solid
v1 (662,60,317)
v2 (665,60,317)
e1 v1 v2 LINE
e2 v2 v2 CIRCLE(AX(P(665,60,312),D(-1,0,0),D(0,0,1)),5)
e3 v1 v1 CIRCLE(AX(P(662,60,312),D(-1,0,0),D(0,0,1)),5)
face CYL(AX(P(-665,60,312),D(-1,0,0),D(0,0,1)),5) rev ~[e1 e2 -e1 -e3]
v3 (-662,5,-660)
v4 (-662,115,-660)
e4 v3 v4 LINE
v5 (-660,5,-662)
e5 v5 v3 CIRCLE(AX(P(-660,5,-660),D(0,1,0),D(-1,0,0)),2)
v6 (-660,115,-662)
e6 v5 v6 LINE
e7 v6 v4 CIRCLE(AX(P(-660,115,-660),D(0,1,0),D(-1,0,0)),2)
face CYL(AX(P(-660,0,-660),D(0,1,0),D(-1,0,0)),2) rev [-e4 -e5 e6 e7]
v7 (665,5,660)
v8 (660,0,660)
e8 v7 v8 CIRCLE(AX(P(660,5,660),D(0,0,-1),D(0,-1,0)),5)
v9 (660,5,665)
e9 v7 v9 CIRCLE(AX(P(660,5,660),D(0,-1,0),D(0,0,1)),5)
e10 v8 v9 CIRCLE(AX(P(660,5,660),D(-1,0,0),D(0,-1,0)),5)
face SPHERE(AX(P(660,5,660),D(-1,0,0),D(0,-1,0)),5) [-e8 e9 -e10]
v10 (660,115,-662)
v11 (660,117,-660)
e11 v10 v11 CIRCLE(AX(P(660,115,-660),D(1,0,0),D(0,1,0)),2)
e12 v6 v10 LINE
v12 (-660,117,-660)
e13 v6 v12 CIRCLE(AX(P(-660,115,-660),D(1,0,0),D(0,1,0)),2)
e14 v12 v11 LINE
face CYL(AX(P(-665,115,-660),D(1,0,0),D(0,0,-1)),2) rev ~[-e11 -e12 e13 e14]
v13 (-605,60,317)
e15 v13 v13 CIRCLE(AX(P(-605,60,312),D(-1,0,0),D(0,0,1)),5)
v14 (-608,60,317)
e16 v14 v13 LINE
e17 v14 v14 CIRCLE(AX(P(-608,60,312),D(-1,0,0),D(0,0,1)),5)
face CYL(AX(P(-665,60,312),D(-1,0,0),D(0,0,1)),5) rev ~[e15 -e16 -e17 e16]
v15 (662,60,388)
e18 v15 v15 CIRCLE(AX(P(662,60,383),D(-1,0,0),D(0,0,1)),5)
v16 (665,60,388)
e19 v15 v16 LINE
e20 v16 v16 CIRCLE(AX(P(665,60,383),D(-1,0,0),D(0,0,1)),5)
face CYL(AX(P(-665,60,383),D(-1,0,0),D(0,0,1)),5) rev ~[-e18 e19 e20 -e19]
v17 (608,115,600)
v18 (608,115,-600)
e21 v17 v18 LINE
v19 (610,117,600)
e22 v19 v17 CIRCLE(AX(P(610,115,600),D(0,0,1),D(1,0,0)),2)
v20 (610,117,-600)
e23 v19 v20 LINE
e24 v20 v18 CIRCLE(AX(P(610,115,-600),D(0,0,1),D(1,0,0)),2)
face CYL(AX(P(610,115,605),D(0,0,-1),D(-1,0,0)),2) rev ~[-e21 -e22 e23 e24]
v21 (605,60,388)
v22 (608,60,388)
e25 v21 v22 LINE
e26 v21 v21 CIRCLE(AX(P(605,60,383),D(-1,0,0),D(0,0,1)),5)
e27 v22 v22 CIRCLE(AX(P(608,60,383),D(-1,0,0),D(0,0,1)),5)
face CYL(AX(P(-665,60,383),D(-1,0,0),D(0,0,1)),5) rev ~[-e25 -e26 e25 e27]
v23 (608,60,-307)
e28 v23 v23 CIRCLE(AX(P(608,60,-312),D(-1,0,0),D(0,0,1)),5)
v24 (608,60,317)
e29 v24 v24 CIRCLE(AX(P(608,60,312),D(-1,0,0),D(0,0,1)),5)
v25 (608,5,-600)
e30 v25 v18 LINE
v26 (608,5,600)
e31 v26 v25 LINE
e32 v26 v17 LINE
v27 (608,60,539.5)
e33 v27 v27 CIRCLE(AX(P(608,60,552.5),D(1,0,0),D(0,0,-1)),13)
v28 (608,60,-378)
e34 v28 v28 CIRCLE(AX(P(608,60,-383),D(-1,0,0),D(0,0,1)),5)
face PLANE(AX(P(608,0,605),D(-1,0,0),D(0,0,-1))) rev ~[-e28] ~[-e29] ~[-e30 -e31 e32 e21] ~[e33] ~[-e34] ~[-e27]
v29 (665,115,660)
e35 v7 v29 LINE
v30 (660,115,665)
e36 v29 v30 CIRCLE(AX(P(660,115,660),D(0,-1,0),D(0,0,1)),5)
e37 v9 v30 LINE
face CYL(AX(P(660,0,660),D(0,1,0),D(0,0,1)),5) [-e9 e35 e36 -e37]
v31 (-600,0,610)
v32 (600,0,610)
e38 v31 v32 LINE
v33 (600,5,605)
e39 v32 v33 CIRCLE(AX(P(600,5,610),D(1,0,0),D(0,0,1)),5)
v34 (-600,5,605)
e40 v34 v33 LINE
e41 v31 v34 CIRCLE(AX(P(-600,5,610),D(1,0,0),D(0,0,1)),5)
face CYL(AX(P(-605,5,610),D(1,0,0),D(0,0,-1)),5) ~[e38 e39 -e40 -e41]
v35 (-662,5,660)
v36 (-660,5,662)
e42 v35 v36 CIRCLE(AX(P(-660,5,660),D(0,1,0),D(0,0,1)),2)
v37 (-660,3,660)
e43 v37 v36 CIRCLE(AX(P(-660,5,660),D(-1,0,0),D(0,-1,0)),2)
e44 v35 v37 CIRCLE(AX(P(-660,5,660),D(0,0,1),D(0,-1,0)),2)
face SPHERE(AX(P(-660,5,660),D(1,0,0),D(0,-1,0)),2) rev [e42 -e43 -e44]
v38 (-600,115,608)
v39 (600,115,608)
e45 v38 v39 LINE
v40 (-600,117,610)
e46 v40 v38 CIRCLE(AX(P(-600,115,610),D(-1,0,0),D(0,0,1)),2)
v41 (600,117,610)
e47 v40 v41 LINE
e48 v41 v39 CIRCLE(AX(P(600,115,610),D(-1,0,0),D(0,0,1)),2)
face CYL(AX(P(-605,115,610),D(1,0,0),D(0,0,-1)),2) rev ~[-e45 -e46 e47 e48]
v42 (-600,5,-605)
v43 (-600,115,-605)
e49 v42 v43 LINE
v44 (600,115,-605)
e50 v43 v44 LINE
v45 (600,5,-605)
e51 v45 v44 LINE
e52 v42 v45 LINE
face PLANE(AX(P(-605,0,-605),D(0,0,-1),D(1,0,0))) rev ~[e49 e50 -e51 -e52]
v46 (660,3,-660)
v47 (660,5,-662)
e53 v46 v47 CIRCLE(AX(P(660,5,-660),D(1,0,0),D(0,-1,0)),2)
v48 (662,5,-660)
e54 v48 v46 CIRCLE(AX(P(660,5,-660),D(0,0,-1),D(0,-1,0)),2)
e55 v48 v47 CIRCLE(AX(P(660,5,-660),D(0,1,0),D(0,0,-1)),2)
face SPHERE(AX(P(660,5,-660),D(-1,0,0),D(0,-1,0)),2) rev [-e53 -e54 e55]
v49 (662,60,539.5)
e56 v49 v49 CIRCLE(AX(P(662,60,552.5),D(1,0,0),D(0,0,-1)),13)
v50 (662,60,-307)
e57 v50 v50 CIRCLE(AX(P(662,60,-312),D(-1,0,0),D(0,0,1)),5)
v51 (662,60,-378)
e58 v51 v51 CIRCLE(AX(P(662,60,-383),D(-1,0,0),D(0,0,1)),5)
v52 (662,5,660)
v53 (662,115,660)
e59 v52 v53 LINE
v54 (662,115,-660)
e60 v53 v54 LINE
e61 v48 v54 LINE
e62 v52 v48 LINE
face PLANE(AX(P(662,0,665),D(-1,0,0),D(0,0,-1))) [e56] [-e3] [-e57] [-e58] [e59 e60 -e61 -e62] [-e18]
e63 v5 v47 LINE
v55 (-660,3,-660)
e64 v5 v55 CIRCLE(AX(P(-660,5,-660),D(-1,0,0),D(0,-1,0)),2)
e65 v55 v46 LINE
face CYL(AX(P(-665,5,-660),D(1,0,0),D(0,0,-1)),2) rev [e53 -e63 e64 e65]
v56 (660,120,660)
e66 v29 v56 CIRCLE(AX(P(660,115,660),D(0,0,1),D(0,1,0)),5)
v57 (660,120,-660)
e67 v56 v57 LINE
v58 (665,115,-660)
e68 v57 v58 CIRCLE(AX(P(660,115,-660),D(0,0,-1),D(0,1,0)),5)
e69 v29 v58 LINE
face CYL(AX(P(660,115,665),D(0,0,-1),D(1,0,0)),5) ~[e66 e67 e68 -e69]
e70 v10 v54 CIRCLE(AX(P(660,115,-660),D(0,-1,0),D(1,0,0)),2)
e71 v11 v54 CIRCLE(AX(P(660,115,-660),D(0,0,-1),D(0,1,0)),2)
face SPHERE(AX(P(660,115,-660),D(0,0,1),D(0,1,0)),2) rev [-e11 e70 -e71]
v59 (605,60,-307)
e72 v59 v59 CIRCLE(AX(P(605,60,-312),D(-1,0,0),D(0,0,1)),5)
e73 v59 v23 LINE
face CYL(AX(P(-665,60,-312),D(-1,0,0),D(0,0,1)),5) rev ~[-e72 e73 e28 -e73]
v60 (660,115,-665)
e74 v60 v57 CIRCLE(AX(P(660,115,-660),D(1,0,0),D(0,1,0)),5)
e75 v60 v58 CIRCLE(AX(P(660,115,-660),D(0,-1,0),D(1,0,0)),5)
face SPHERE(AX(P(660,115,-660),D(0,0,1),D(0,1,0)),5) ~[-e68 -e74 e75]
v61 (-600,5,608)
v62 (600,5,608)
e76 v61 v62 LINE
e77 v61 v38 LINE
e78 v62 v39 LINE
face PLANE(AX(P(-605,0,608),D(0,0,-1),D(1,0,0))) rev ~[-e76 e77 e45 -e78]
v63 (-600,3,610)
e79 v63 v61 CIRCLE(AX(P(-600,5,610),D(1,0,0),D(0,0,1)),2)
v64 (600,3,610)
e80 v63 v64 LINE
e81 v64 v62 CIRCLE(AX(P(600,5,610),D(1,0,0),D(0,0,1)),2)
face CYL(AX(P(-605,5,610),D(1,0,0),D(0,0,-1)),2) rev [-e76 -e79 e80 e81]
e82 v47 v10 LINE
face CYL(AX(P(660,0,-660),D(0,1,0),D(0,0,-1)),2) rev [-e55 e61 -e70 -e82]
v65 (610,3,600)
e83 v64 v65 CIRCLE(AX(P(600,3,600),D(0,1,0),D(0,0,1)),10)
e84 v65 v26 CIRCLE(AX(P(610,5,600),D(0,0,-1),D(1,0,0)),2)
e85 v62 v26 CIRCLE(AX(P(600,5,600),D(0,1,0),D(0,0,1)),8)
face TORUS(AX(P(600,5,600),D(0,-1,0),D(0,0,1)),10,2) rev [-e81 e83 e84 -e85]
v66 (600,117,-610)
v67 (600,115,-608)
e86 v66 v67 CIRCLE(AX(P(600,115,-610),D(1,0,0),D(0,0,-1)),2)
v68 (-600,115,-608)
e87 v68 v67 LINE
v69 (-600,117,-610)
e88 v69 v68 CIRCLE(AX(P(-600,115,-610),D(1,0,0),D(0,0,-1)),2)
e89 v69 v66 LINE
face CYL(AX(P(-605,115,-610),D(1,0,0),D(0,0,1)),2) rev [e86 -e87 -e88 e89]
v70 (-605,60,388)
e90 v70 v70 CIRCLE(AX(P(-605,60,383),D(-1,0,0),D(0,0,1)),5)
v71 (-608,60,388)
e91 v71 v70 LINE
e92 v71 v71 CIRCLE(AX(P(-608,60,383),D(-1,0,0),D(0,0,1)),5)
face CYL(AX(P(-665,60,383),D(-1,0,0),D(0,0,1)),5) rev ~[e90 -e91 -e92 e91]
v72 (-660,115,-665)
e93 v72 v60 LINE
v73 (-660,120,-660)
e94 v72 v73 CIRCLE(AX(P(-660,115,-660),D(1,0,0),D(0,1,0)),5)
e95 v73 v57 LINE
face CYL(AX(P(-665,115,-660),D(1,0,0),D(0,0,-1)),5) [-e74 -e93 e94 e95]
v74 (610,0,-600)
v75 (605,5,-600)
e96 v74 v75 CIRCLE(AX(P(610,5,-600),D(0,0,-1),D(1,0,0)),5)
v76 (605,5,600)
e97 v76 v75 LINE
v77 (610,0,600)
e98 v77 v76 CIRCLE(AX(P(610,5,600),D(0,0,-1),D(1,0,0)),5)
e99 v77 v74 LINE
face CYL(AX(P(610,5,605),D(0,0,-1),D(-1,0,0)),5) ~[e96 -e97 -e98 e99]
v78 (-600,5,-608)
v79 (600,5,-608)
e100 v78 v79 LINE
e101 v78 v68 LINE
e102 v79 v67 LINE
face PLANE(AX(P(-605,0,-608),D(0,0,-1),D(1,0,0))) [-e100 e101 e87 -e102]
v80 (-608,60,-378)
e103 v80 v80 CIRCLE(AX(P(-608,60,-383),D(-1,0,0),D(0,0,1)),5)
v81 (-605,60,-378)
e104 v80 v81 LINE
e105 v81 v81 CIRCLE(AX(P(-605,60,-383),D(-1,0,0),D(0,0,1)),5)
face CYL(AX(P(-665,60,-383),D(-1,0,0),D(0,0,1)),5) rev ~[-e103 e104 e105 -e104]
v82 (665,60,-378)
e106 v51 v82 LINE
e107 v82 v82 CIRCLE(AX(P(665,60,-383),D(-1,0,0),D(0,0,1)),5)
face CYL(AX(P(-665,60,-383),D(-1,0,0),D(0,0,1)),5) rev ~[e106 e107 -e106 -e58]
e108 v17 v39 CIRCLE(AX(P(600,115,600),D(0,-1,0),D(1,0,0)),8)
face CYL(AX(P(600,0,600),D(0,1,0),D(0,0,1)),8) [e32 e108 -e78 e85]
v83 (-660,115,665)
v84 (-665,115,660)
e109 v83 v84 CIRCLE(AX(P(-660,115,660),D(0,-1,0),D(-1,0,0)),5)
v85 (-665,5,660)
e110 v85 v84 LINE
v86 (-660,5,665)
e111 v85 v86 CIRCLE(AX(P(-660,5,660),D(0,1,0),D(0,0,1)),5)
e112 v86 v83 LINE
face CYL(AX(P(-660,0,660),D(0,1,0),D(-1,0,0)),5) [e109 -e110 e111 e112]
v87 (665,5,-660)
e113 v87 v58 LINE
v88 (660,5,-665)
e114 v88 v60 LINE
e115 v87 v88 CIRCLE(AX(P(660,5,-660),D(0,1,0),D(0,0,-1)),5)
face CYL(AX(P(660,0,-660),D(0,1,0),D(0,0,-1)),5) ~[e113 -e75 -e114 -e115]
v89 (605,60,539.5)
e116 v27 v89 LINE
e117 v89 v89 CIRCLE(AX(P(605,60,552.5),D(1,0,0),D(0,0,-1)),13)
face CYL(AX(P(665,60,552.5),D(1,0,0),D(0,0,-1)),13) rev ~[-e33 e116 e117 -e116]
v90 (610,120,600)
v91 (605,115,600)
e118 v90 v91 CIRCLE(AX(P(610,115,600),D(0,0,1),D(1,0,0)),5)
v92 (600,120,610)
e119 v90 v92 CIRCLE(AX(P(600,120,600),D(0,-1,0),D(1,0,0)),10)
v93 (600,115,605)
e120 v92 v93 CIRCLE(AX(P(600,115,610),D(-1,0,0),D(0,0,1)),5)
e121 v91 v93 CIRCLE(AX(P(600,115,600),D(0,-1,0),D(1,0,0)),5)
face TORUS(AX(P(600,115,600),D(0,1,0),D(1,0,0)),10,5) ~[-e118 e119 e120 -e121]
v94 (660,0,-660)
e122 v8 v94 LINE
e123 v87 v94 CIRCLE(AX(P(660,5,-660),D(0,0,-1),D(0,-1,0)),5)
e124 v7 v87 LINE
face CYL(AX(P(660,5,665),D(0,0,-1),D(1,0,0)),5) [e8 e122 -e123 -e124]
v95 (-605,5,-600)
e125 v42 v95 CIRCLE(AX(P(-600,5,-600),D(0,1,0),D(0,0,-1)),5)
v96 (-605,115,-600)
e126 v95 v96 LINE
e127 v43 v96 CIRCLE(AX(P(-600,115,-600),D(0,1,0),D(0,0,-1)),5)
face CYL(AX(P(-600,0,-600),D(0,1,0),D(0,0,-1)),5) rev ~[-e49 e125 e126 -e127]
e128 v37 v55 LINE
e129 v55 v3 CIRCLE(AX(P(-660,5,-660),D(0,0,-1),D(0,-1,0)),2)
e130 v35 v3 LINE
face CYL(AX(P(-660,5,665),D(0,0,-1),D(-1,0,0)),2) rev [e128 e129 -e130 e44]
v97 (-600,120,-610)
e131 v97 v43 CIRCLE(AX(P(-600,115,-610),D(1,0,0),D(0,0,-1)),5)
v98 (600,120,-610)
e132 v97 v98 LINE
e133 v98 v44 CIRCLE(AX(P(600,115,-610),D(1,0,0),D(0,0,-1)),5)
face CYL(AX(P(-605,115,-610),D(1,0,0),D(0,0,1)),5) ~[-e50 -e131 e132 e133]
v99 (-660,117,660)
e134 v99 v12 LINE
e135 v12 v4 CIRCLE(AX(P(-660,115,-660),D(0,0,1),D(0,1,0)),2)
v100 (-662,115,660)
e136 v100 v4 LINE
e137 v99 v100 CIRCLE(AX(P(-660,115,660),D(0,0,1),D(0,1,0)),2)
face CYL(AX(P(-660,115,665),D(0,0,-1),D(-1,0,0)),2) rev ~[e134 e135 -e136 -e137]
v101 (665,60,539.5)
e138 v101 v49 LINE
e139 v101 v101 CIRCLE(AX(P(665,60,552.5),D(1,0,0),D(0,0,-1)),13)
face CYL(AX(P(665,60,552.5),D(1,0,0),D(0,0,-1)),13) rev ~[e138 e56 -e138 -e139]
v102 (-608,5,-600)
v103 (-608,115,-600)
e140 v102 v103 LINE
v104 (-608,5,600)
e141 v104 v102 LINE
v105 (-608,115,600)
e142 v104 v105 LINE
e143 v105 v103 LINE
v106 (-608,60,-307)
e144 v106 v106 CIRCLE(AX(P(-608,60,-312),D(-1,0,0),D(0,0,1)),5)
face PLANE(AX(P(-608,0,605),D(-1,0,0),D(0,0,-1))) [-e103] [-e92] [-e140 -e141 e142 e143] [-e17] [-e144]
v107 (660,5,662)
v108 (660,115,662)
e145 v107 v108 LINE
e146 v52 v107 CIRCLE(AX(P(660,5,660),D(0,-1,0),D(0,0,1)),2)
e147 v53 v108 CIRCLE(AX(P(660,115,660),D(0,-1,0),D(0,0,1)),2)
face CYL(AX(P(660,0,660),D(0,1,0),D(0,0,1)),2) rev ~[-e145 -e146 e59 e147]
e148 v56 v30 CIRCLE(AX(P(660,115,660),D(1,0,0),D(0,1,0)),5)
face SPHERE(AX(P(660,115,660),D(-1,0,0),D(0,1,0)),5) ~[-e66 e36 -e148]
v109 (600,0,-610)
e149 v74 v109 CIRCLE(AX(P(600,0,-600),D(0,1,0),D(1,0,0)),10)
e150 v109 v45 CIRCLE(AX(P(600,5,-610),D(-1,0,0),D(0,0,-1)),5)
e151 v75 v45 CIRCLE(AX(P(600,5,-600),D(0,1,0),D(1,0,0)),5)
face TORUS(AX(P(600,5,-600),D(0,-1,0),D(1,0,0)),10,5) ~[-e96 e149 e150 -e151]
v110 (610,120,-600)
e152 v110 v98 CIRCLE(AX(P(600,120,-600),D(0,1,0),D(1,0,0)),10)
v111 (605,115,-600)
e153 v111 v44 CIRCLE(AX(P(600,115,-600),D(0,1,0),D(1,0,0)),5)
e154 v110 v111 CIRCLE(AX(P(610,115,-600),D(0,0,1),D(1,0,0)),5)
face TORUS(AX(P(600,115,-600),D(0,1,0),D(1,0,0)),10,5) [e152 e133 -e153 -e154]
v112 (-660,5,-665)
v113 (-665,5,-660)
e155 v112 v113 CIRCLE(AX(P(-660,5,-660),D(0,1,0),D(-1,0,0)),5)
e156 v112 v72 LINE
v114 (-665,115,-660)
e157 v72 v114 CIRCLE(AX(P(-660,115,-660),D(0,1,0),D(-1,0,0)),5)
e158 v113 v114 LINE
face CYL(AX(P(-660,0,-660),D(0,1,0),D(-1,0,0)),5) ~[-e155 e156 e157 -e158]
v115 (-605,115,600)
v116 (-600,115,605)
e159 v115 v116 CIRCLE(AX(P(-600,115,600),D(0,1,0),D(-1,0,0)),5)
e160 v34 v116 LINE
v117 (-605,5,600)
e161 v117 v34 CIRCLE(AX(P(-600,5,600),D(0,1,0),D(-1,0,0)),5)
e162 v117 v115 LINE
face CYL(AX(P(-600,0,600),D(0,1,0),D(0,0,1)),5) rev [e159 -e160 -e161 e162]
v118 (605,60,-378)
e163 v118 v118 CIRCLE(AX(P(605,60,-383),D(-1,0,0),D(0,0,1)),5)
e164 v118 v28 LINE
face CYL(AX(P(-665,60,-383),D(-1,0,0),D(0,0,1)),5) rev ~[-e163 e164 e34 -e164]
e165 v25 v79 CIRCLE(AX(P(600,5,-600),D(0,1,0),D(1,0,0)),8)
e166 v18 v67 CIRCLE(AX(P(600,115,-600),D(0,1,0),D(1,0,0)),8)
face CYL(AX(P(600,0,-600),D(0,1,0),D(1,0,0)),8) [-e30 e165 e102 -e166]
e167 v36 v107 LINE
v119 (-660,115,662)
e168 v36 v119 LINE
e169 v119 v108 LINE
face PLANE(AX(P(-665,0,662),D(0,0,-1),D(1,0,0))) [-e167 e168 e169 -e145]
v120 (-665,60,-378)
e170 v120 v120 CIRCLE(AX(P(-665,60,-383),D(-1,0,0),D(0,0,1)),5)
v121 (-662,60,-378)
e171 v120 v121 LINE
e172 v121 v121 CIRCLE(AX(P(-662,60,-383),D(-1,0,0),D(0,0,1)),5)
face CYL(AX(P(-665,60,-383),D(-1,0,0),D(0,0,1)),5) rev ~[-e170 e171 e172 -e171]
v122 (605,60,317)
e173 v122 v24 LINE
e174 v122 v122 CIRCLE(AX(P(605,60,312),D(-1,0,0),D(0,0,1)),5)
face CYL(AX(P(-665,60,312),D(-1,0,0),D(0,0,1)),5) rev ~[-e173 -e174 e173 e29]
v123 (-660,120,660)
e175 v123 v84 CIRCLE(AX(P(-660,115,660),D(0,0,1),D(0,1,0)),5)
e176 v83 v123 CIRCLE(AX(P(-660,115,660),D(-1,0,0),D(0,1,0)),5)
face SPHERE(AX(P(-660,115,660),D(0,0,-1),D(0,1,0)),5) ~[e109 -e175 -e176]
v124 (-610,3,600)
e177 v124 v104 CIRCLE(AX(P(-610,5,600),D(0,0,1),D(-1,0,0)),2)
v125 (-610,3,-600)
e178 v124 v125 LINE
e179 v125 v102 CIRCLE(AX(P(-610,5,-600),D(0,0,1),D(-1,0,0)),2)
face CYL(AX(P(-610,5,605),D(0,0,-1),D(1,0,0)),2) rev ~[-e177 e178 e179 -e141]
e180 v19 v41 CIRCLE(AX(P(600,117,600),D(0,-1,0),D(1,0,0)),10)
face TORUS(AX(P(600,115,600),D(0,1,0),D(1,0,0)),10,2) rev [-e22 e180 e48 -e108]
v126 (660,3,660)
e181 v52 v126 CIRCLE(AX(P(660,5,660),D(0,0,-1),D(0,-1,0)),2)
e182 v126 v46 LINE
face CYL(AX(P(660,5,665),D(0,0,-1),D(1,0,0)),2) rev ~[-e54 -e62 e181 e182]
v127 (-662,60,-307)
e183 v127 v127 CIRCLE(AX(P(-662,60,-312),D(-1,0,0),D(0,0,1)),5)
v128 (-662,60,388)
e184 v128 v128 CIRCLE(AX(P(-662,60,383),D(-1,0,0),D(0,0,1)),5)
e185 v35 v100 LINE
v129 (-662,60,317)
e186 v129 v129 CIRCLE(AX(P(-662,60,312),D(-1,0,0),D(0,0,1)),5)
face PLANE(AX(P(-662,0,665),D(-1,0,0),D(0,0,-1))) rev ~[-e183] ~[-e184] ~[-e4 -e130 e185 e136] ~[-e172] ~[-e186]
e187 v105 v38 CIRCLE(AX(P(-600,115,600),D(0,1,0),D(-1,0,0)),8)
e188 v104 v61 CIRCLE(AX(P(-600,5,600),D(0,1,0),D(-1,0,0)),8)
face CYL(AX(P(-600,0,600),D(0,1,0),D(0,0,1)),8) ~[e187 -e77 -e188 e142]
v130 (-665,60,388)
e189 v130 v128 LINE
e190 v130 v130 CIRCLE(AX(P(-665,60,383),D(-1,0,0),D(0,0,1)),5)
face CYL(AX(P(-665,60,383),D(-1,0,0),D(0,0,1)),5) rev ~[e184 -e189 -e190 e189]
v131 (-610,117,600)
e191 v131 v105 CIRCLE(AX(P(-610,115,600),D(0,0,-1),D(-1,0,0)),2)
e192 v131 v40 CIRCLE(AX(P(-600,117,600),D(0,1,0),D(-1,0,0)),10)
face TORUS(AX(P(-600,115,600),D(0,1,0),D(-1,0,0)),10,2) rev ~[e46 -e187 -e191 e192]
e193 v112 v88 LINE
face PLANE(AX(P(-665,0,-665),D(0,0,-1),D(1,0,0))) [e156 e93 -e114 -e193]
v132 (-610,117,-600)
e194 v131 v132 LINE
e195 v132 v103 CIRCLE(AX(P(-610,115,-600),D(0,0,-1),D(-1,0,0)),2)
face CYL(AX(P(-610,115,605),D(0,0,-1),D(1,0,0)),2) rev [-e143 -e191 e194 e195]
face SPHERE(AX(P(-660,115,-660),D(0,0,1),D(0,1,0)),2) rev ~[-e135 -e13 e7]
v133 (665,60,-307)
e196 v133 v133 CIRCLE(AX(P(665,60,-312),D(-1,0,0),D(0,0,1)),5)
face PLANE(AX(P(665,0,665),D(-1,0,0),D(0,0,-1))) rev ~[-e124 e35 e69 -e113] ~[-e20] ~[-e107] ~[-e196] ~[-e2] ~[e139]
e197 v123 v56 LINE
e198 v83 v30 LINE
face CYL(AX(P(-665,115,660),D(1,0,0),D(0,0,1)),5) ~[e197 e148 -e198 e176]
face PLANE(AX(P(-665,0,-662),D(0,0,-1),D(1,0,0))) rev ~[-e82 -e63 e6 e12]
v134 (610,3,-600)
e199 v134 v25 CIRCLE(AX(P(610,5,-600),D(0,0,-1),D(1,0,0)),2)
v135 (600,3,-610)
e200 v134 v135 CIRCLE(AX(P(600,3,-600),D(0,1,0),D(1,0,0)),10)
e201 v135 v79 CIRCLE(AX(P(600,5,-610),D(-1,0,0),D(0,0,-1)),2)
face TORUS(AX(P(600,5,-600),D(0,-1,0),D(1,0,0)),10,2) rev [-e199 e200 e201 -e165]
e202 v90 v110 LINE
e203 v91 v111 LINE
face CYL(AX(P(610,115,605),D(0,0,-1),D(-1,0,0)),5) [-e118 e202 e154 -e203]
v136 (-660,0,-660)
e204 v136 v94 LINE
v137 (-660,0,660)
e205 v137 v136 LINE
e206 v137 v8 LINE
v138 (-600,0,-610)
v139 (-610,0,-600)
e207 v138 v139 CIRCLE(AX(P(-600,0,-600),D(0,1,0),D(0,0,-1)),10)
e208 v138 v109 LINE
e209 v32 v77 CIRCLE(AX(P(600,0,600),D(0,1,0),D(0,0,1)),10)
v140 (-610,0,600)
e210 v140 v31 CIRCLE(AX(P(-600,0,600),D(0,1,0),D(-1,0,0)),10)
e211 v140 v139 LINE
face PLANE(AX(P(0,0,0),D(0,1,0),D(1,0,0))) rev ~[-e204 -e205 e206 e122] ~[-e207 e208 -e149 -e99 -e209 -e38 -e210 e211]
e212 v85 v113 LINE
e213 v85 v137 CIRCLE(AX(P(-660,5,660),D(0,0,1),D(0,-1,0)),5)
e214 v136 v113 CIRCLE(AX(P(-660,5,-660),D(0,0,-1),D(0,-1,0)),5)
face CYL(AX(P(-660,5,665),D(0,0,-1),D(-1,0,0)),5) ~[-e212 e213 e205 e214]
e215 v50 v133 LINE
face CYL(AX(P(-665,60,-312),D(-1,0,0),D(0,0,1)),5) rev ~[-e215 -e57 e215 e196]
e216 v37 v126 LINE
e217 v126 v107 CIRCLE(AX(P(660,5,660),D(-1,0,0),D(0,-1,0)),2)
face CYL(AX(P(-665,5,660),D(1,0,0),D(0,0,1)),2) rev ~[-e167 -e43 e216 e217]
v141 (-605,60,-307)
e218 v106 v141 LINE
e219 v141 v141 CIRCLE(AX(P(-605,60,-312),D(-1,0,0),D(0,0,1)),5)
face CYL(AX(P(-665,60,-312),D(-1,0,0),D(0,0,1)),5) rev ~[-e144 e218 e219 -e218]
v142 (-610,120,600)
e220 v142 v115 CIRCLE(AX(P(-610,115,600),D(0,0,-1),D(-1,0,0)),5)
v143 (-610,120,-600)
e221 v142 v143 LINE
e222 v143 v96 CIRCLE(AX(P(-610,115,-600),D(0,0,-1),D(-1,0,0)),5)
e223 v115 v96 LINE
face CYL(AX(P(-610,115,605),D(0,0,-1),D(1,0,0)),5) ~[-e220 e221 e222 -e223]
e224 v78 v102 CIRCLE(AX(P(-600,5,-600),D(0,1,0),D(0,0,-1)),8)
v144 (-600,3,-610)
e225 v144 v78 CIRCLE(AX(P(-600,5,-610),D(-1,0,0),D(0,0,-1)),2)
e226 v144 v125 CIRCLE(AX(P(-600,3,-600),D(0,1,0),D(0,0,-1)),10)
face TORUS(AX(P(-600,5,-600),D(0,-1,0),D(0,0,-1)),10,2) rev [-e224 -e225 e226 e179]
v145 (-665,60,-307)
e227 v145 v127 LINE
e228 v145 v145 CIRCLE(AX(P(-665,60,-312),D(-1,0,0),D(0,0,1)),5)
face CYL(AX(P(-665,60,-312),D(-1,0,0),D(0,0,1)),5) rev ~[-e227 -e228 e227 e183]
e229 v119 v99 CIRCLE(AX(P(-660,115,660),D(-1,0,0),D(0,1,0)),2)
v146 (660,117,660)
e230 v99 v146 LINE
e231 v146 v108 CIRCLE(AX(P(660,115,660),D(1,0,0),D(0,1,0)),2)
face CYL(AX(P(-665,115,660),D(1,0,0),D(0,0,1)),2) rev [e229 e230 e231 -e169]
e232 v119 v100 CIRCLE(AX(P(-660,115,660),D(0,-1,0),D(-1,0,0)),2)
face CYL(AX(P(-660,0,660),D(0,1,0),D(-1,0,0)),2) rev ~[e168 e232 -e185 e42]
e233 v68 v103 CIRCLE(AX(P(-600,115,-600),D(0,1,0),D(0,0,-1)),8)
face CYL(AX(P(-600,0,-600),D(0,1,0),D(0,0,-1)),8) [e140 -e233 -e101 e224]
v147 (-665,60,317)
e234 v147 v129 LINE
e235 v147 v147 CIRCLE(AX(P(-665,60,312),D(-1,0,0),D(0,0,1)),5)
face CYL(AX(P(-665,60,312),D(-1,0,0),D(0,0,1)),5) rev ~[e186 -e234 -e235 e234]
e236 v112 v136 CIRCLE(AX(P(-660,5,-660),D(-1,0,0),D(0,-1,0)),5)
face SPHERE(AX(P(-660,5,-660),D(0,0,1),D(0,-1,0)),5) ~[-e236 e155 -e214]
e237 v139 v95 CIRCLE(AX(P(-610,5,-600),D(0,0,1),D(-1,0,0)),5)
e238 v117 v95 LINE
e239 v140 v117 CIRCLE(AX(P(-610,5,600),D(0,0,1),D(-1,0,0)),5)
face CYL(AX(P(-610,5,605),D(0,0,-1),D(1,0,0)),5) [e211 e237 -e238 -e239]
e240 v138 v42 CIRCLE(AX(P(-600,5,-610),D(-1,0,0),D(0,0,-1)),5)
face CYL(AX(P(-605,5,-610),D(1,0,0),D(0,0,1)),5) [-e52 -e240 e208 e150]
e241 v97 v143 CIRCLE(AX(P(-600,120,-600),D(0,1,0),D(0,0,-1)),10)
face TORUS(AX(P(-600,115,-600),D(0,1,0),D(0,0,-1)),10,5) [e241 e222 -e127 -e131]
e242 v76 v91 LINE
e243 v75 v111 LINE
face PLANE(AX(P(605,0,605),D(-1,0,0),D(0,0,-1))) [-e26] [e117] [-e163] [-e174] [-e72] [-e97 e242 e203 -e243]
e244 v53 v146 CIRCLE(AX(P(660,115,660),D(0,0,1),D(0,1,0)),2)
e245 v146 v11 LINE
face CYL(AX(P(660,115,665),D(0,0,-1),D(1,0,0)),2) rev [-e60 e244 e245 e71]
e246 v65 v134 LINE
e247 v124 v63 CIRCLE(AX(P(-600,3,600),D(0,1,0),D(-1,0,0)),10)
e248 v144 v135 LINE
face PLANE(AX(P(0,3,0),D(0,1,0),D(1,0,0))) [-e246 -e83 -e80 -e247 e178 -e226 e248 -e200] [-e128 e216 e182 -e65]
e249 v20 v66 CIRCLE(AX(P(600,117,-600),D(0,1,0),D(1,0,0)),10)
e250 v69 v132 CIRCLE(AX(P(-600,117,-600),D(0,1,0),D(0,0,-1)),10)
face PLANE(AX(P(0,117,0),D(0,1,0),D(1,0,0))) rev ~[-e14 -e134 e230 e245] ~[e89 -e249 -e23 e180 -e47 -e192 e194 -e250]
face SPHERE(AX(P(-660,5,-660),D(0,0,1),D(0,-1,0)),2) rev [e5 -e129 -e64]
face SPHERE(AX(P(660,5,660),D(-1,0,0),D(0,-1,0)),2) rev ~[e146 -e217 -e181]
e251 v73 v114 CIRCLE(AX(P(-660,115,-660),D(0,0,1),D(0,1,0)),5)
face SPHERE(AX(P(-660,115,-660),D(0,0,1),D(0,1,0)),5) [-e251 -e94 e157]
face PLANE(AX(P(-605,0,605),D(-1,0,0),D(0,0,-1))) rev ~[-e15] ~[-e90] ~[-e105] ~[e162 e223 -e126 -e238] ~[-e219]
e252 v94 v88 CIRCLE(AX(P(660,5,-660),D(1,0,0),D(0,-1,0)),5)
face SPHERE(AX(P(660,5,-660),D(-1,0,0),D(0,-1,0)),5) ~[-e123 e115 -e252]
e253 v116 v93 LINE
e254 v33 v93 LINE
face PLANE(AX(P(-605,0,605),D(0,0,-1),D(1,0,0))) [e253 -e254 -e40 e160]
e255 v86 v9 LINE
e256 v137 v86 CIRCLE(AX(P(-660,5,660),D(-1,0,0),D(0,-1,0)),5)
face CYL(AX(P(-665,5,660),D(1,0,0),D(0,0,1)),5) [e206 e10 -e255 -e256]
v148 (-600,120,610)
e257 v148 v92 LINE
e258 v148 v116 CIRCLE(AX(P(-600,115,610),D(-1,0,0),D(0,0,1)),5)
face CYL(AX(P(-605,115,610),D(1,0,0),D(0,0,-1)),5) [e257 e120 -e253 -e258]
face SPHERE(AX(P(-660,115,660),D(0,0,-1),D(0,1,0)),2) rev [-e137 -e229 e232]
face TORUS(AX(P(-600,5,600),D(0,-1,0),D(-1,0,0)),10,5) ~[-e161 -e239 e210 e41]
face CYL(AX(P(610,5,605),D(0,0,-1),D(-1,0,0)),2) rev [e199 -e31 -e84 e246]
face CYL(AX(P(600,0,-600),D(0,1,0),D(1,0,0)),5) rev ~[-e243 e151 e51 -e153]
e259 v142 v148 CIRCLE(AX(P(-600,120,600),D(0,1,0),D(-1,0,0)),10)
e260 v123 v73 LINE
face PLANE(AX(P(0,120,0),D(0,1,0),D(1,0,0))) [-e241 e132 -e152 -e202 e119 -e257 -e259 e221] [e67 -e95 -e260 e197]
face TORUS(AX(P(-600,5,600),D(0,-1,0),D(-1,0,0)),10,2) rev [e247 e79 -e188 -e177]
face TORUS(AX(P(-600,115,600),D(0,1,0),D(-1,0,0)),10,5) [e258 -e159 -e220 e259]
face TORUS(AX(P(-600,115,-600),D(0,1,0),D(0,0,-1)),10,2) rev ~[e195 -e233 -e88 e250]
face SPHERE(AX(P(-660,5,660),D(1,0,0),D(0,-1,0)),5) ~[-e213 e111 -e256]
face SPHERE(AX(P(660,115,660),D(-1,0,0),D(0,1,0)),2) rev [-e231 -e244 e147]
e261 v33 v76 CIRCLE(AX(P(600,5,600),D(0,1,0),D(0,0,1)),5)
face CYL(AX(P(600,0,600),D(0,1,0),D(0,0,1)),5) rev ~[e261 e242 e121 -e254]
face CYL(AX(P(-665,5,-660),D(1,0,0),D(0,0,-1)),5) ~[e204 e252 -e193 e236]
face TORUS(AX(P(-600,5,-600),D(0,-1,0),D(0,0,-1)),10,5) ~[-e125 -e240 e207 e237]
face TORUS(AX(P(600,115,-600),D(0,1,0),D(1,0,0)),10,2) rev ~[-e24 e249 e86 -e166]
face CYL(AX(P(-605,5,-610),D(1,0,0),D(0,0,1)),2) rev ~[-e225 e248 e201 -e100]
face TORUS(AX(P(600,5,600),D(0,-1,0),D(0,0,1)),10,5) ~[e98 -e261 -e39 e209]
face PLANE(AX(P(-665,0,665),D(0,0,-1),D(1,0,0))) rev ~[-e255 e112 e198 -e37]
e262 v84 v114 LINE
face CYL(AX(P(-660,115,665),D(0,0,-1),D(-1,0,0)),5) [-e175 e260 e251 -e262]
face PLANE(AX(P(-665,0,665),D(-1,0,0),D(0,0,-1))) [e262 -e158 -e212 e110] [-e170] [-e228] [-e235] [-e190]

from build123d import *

# Parameters (mm, degrees)
SKETCH1_W           = 1330
SKETCH1_H           = 1330
SKETCH1_W_2         = 1210
SKETCH1_H_2         = 1210
BOSS_EXTRUDE1_DEPTH = 120
FILLET1_R           = 5
SHELL1_T            = 3
SKETCH2_R           = 5
CUT_EXTRUDE1_DEPTH  = 1331
SKETCH3_R           = 13
CUT_EXTRUDE2_DEPTH  = 60


with BuildPart() as part:
    # Sketch1 → Boss-Extrude1 (new body)
    with BuildSketch(Plane(origin=(0, 0, 0), x_dir=(1, 0, 0), z_dir=(0, 1, 0))):
        Rectangle(SKETCH1_W, SKETCH1_H)
        Rectangle(SKETCH1_W_2, SKETCH1_H_2, mode=Mode.SUBTRACT)
    extrude(amount=BOSS_EXTRUDE1_DEPTH)

    # Fillet1
    fillet1_edges = [part.edges().sort_by_distance(p)[0] for p in [
        (-665, 120, 0),
        (0, 120, 665),
        (605, 0, 0),
        (605, 60, 605),
        (0, 0, -605),
        (605, 60, -605),
        (-605, 0, 0),
        (-605, 60, -605),
        (0, 0, 605),
        (-605, 60, 605),
        (605, 120, 0),
        (0, 120, -605),
        (-605, 120, 0),
        (0, 120, 605),
        (665, 120, 0),
        (0, 0, 665),
        (-665, 0, 0),
        (0, 0, -665),
        (665, 0, 0),
        (0, 120, -665),
        (665, 60, 665),
        (-665, 60, 665),
        (-665, 60, -665),
        (665, 60, -665),
    ]]
    fillet(fillet1_edges, radius=FILLET1_R)

    # Shell1 (no face opened: a closed hollow body)
    add(offset(amount=-SHELL1_T, mode=Mode.PRIVATE), mode=Mode.SUBTRACT)

    # Sketch2 → Cut-Extrude1 (cut, through all)
    with BuildSketch(Plane.ZY.offset(665)):
        with Locations((-383, 60)):
            Circle(SKETCH2_R)
        with Locations((-312, 60)):
            Circle(SKETCH2_R)
        with Locations((383, 60)):
            Circle(SKETCH2_R)
        with Locations((312, 60)):
            Circle(SKETCH2_R)
    extrude(amount=-CUT_EXTRUDE1_DEPTH, mode=Mode.SUBTRACT)

    # Sketch3 → Cut-Extrude2 (cut)
    with BuildSketch(Plane(origin=(665, 0, 0), x_dir=(0, 0, -1), z_dir=(1, 0, 0))):
        with Locations((-552.5, 60)):
            Circle(SKETCH3_R)
    extrude(amount=-CUT_EXTRUDE2_DEPTH, mode=Mode.SUBTRACT)


solid = part.part
